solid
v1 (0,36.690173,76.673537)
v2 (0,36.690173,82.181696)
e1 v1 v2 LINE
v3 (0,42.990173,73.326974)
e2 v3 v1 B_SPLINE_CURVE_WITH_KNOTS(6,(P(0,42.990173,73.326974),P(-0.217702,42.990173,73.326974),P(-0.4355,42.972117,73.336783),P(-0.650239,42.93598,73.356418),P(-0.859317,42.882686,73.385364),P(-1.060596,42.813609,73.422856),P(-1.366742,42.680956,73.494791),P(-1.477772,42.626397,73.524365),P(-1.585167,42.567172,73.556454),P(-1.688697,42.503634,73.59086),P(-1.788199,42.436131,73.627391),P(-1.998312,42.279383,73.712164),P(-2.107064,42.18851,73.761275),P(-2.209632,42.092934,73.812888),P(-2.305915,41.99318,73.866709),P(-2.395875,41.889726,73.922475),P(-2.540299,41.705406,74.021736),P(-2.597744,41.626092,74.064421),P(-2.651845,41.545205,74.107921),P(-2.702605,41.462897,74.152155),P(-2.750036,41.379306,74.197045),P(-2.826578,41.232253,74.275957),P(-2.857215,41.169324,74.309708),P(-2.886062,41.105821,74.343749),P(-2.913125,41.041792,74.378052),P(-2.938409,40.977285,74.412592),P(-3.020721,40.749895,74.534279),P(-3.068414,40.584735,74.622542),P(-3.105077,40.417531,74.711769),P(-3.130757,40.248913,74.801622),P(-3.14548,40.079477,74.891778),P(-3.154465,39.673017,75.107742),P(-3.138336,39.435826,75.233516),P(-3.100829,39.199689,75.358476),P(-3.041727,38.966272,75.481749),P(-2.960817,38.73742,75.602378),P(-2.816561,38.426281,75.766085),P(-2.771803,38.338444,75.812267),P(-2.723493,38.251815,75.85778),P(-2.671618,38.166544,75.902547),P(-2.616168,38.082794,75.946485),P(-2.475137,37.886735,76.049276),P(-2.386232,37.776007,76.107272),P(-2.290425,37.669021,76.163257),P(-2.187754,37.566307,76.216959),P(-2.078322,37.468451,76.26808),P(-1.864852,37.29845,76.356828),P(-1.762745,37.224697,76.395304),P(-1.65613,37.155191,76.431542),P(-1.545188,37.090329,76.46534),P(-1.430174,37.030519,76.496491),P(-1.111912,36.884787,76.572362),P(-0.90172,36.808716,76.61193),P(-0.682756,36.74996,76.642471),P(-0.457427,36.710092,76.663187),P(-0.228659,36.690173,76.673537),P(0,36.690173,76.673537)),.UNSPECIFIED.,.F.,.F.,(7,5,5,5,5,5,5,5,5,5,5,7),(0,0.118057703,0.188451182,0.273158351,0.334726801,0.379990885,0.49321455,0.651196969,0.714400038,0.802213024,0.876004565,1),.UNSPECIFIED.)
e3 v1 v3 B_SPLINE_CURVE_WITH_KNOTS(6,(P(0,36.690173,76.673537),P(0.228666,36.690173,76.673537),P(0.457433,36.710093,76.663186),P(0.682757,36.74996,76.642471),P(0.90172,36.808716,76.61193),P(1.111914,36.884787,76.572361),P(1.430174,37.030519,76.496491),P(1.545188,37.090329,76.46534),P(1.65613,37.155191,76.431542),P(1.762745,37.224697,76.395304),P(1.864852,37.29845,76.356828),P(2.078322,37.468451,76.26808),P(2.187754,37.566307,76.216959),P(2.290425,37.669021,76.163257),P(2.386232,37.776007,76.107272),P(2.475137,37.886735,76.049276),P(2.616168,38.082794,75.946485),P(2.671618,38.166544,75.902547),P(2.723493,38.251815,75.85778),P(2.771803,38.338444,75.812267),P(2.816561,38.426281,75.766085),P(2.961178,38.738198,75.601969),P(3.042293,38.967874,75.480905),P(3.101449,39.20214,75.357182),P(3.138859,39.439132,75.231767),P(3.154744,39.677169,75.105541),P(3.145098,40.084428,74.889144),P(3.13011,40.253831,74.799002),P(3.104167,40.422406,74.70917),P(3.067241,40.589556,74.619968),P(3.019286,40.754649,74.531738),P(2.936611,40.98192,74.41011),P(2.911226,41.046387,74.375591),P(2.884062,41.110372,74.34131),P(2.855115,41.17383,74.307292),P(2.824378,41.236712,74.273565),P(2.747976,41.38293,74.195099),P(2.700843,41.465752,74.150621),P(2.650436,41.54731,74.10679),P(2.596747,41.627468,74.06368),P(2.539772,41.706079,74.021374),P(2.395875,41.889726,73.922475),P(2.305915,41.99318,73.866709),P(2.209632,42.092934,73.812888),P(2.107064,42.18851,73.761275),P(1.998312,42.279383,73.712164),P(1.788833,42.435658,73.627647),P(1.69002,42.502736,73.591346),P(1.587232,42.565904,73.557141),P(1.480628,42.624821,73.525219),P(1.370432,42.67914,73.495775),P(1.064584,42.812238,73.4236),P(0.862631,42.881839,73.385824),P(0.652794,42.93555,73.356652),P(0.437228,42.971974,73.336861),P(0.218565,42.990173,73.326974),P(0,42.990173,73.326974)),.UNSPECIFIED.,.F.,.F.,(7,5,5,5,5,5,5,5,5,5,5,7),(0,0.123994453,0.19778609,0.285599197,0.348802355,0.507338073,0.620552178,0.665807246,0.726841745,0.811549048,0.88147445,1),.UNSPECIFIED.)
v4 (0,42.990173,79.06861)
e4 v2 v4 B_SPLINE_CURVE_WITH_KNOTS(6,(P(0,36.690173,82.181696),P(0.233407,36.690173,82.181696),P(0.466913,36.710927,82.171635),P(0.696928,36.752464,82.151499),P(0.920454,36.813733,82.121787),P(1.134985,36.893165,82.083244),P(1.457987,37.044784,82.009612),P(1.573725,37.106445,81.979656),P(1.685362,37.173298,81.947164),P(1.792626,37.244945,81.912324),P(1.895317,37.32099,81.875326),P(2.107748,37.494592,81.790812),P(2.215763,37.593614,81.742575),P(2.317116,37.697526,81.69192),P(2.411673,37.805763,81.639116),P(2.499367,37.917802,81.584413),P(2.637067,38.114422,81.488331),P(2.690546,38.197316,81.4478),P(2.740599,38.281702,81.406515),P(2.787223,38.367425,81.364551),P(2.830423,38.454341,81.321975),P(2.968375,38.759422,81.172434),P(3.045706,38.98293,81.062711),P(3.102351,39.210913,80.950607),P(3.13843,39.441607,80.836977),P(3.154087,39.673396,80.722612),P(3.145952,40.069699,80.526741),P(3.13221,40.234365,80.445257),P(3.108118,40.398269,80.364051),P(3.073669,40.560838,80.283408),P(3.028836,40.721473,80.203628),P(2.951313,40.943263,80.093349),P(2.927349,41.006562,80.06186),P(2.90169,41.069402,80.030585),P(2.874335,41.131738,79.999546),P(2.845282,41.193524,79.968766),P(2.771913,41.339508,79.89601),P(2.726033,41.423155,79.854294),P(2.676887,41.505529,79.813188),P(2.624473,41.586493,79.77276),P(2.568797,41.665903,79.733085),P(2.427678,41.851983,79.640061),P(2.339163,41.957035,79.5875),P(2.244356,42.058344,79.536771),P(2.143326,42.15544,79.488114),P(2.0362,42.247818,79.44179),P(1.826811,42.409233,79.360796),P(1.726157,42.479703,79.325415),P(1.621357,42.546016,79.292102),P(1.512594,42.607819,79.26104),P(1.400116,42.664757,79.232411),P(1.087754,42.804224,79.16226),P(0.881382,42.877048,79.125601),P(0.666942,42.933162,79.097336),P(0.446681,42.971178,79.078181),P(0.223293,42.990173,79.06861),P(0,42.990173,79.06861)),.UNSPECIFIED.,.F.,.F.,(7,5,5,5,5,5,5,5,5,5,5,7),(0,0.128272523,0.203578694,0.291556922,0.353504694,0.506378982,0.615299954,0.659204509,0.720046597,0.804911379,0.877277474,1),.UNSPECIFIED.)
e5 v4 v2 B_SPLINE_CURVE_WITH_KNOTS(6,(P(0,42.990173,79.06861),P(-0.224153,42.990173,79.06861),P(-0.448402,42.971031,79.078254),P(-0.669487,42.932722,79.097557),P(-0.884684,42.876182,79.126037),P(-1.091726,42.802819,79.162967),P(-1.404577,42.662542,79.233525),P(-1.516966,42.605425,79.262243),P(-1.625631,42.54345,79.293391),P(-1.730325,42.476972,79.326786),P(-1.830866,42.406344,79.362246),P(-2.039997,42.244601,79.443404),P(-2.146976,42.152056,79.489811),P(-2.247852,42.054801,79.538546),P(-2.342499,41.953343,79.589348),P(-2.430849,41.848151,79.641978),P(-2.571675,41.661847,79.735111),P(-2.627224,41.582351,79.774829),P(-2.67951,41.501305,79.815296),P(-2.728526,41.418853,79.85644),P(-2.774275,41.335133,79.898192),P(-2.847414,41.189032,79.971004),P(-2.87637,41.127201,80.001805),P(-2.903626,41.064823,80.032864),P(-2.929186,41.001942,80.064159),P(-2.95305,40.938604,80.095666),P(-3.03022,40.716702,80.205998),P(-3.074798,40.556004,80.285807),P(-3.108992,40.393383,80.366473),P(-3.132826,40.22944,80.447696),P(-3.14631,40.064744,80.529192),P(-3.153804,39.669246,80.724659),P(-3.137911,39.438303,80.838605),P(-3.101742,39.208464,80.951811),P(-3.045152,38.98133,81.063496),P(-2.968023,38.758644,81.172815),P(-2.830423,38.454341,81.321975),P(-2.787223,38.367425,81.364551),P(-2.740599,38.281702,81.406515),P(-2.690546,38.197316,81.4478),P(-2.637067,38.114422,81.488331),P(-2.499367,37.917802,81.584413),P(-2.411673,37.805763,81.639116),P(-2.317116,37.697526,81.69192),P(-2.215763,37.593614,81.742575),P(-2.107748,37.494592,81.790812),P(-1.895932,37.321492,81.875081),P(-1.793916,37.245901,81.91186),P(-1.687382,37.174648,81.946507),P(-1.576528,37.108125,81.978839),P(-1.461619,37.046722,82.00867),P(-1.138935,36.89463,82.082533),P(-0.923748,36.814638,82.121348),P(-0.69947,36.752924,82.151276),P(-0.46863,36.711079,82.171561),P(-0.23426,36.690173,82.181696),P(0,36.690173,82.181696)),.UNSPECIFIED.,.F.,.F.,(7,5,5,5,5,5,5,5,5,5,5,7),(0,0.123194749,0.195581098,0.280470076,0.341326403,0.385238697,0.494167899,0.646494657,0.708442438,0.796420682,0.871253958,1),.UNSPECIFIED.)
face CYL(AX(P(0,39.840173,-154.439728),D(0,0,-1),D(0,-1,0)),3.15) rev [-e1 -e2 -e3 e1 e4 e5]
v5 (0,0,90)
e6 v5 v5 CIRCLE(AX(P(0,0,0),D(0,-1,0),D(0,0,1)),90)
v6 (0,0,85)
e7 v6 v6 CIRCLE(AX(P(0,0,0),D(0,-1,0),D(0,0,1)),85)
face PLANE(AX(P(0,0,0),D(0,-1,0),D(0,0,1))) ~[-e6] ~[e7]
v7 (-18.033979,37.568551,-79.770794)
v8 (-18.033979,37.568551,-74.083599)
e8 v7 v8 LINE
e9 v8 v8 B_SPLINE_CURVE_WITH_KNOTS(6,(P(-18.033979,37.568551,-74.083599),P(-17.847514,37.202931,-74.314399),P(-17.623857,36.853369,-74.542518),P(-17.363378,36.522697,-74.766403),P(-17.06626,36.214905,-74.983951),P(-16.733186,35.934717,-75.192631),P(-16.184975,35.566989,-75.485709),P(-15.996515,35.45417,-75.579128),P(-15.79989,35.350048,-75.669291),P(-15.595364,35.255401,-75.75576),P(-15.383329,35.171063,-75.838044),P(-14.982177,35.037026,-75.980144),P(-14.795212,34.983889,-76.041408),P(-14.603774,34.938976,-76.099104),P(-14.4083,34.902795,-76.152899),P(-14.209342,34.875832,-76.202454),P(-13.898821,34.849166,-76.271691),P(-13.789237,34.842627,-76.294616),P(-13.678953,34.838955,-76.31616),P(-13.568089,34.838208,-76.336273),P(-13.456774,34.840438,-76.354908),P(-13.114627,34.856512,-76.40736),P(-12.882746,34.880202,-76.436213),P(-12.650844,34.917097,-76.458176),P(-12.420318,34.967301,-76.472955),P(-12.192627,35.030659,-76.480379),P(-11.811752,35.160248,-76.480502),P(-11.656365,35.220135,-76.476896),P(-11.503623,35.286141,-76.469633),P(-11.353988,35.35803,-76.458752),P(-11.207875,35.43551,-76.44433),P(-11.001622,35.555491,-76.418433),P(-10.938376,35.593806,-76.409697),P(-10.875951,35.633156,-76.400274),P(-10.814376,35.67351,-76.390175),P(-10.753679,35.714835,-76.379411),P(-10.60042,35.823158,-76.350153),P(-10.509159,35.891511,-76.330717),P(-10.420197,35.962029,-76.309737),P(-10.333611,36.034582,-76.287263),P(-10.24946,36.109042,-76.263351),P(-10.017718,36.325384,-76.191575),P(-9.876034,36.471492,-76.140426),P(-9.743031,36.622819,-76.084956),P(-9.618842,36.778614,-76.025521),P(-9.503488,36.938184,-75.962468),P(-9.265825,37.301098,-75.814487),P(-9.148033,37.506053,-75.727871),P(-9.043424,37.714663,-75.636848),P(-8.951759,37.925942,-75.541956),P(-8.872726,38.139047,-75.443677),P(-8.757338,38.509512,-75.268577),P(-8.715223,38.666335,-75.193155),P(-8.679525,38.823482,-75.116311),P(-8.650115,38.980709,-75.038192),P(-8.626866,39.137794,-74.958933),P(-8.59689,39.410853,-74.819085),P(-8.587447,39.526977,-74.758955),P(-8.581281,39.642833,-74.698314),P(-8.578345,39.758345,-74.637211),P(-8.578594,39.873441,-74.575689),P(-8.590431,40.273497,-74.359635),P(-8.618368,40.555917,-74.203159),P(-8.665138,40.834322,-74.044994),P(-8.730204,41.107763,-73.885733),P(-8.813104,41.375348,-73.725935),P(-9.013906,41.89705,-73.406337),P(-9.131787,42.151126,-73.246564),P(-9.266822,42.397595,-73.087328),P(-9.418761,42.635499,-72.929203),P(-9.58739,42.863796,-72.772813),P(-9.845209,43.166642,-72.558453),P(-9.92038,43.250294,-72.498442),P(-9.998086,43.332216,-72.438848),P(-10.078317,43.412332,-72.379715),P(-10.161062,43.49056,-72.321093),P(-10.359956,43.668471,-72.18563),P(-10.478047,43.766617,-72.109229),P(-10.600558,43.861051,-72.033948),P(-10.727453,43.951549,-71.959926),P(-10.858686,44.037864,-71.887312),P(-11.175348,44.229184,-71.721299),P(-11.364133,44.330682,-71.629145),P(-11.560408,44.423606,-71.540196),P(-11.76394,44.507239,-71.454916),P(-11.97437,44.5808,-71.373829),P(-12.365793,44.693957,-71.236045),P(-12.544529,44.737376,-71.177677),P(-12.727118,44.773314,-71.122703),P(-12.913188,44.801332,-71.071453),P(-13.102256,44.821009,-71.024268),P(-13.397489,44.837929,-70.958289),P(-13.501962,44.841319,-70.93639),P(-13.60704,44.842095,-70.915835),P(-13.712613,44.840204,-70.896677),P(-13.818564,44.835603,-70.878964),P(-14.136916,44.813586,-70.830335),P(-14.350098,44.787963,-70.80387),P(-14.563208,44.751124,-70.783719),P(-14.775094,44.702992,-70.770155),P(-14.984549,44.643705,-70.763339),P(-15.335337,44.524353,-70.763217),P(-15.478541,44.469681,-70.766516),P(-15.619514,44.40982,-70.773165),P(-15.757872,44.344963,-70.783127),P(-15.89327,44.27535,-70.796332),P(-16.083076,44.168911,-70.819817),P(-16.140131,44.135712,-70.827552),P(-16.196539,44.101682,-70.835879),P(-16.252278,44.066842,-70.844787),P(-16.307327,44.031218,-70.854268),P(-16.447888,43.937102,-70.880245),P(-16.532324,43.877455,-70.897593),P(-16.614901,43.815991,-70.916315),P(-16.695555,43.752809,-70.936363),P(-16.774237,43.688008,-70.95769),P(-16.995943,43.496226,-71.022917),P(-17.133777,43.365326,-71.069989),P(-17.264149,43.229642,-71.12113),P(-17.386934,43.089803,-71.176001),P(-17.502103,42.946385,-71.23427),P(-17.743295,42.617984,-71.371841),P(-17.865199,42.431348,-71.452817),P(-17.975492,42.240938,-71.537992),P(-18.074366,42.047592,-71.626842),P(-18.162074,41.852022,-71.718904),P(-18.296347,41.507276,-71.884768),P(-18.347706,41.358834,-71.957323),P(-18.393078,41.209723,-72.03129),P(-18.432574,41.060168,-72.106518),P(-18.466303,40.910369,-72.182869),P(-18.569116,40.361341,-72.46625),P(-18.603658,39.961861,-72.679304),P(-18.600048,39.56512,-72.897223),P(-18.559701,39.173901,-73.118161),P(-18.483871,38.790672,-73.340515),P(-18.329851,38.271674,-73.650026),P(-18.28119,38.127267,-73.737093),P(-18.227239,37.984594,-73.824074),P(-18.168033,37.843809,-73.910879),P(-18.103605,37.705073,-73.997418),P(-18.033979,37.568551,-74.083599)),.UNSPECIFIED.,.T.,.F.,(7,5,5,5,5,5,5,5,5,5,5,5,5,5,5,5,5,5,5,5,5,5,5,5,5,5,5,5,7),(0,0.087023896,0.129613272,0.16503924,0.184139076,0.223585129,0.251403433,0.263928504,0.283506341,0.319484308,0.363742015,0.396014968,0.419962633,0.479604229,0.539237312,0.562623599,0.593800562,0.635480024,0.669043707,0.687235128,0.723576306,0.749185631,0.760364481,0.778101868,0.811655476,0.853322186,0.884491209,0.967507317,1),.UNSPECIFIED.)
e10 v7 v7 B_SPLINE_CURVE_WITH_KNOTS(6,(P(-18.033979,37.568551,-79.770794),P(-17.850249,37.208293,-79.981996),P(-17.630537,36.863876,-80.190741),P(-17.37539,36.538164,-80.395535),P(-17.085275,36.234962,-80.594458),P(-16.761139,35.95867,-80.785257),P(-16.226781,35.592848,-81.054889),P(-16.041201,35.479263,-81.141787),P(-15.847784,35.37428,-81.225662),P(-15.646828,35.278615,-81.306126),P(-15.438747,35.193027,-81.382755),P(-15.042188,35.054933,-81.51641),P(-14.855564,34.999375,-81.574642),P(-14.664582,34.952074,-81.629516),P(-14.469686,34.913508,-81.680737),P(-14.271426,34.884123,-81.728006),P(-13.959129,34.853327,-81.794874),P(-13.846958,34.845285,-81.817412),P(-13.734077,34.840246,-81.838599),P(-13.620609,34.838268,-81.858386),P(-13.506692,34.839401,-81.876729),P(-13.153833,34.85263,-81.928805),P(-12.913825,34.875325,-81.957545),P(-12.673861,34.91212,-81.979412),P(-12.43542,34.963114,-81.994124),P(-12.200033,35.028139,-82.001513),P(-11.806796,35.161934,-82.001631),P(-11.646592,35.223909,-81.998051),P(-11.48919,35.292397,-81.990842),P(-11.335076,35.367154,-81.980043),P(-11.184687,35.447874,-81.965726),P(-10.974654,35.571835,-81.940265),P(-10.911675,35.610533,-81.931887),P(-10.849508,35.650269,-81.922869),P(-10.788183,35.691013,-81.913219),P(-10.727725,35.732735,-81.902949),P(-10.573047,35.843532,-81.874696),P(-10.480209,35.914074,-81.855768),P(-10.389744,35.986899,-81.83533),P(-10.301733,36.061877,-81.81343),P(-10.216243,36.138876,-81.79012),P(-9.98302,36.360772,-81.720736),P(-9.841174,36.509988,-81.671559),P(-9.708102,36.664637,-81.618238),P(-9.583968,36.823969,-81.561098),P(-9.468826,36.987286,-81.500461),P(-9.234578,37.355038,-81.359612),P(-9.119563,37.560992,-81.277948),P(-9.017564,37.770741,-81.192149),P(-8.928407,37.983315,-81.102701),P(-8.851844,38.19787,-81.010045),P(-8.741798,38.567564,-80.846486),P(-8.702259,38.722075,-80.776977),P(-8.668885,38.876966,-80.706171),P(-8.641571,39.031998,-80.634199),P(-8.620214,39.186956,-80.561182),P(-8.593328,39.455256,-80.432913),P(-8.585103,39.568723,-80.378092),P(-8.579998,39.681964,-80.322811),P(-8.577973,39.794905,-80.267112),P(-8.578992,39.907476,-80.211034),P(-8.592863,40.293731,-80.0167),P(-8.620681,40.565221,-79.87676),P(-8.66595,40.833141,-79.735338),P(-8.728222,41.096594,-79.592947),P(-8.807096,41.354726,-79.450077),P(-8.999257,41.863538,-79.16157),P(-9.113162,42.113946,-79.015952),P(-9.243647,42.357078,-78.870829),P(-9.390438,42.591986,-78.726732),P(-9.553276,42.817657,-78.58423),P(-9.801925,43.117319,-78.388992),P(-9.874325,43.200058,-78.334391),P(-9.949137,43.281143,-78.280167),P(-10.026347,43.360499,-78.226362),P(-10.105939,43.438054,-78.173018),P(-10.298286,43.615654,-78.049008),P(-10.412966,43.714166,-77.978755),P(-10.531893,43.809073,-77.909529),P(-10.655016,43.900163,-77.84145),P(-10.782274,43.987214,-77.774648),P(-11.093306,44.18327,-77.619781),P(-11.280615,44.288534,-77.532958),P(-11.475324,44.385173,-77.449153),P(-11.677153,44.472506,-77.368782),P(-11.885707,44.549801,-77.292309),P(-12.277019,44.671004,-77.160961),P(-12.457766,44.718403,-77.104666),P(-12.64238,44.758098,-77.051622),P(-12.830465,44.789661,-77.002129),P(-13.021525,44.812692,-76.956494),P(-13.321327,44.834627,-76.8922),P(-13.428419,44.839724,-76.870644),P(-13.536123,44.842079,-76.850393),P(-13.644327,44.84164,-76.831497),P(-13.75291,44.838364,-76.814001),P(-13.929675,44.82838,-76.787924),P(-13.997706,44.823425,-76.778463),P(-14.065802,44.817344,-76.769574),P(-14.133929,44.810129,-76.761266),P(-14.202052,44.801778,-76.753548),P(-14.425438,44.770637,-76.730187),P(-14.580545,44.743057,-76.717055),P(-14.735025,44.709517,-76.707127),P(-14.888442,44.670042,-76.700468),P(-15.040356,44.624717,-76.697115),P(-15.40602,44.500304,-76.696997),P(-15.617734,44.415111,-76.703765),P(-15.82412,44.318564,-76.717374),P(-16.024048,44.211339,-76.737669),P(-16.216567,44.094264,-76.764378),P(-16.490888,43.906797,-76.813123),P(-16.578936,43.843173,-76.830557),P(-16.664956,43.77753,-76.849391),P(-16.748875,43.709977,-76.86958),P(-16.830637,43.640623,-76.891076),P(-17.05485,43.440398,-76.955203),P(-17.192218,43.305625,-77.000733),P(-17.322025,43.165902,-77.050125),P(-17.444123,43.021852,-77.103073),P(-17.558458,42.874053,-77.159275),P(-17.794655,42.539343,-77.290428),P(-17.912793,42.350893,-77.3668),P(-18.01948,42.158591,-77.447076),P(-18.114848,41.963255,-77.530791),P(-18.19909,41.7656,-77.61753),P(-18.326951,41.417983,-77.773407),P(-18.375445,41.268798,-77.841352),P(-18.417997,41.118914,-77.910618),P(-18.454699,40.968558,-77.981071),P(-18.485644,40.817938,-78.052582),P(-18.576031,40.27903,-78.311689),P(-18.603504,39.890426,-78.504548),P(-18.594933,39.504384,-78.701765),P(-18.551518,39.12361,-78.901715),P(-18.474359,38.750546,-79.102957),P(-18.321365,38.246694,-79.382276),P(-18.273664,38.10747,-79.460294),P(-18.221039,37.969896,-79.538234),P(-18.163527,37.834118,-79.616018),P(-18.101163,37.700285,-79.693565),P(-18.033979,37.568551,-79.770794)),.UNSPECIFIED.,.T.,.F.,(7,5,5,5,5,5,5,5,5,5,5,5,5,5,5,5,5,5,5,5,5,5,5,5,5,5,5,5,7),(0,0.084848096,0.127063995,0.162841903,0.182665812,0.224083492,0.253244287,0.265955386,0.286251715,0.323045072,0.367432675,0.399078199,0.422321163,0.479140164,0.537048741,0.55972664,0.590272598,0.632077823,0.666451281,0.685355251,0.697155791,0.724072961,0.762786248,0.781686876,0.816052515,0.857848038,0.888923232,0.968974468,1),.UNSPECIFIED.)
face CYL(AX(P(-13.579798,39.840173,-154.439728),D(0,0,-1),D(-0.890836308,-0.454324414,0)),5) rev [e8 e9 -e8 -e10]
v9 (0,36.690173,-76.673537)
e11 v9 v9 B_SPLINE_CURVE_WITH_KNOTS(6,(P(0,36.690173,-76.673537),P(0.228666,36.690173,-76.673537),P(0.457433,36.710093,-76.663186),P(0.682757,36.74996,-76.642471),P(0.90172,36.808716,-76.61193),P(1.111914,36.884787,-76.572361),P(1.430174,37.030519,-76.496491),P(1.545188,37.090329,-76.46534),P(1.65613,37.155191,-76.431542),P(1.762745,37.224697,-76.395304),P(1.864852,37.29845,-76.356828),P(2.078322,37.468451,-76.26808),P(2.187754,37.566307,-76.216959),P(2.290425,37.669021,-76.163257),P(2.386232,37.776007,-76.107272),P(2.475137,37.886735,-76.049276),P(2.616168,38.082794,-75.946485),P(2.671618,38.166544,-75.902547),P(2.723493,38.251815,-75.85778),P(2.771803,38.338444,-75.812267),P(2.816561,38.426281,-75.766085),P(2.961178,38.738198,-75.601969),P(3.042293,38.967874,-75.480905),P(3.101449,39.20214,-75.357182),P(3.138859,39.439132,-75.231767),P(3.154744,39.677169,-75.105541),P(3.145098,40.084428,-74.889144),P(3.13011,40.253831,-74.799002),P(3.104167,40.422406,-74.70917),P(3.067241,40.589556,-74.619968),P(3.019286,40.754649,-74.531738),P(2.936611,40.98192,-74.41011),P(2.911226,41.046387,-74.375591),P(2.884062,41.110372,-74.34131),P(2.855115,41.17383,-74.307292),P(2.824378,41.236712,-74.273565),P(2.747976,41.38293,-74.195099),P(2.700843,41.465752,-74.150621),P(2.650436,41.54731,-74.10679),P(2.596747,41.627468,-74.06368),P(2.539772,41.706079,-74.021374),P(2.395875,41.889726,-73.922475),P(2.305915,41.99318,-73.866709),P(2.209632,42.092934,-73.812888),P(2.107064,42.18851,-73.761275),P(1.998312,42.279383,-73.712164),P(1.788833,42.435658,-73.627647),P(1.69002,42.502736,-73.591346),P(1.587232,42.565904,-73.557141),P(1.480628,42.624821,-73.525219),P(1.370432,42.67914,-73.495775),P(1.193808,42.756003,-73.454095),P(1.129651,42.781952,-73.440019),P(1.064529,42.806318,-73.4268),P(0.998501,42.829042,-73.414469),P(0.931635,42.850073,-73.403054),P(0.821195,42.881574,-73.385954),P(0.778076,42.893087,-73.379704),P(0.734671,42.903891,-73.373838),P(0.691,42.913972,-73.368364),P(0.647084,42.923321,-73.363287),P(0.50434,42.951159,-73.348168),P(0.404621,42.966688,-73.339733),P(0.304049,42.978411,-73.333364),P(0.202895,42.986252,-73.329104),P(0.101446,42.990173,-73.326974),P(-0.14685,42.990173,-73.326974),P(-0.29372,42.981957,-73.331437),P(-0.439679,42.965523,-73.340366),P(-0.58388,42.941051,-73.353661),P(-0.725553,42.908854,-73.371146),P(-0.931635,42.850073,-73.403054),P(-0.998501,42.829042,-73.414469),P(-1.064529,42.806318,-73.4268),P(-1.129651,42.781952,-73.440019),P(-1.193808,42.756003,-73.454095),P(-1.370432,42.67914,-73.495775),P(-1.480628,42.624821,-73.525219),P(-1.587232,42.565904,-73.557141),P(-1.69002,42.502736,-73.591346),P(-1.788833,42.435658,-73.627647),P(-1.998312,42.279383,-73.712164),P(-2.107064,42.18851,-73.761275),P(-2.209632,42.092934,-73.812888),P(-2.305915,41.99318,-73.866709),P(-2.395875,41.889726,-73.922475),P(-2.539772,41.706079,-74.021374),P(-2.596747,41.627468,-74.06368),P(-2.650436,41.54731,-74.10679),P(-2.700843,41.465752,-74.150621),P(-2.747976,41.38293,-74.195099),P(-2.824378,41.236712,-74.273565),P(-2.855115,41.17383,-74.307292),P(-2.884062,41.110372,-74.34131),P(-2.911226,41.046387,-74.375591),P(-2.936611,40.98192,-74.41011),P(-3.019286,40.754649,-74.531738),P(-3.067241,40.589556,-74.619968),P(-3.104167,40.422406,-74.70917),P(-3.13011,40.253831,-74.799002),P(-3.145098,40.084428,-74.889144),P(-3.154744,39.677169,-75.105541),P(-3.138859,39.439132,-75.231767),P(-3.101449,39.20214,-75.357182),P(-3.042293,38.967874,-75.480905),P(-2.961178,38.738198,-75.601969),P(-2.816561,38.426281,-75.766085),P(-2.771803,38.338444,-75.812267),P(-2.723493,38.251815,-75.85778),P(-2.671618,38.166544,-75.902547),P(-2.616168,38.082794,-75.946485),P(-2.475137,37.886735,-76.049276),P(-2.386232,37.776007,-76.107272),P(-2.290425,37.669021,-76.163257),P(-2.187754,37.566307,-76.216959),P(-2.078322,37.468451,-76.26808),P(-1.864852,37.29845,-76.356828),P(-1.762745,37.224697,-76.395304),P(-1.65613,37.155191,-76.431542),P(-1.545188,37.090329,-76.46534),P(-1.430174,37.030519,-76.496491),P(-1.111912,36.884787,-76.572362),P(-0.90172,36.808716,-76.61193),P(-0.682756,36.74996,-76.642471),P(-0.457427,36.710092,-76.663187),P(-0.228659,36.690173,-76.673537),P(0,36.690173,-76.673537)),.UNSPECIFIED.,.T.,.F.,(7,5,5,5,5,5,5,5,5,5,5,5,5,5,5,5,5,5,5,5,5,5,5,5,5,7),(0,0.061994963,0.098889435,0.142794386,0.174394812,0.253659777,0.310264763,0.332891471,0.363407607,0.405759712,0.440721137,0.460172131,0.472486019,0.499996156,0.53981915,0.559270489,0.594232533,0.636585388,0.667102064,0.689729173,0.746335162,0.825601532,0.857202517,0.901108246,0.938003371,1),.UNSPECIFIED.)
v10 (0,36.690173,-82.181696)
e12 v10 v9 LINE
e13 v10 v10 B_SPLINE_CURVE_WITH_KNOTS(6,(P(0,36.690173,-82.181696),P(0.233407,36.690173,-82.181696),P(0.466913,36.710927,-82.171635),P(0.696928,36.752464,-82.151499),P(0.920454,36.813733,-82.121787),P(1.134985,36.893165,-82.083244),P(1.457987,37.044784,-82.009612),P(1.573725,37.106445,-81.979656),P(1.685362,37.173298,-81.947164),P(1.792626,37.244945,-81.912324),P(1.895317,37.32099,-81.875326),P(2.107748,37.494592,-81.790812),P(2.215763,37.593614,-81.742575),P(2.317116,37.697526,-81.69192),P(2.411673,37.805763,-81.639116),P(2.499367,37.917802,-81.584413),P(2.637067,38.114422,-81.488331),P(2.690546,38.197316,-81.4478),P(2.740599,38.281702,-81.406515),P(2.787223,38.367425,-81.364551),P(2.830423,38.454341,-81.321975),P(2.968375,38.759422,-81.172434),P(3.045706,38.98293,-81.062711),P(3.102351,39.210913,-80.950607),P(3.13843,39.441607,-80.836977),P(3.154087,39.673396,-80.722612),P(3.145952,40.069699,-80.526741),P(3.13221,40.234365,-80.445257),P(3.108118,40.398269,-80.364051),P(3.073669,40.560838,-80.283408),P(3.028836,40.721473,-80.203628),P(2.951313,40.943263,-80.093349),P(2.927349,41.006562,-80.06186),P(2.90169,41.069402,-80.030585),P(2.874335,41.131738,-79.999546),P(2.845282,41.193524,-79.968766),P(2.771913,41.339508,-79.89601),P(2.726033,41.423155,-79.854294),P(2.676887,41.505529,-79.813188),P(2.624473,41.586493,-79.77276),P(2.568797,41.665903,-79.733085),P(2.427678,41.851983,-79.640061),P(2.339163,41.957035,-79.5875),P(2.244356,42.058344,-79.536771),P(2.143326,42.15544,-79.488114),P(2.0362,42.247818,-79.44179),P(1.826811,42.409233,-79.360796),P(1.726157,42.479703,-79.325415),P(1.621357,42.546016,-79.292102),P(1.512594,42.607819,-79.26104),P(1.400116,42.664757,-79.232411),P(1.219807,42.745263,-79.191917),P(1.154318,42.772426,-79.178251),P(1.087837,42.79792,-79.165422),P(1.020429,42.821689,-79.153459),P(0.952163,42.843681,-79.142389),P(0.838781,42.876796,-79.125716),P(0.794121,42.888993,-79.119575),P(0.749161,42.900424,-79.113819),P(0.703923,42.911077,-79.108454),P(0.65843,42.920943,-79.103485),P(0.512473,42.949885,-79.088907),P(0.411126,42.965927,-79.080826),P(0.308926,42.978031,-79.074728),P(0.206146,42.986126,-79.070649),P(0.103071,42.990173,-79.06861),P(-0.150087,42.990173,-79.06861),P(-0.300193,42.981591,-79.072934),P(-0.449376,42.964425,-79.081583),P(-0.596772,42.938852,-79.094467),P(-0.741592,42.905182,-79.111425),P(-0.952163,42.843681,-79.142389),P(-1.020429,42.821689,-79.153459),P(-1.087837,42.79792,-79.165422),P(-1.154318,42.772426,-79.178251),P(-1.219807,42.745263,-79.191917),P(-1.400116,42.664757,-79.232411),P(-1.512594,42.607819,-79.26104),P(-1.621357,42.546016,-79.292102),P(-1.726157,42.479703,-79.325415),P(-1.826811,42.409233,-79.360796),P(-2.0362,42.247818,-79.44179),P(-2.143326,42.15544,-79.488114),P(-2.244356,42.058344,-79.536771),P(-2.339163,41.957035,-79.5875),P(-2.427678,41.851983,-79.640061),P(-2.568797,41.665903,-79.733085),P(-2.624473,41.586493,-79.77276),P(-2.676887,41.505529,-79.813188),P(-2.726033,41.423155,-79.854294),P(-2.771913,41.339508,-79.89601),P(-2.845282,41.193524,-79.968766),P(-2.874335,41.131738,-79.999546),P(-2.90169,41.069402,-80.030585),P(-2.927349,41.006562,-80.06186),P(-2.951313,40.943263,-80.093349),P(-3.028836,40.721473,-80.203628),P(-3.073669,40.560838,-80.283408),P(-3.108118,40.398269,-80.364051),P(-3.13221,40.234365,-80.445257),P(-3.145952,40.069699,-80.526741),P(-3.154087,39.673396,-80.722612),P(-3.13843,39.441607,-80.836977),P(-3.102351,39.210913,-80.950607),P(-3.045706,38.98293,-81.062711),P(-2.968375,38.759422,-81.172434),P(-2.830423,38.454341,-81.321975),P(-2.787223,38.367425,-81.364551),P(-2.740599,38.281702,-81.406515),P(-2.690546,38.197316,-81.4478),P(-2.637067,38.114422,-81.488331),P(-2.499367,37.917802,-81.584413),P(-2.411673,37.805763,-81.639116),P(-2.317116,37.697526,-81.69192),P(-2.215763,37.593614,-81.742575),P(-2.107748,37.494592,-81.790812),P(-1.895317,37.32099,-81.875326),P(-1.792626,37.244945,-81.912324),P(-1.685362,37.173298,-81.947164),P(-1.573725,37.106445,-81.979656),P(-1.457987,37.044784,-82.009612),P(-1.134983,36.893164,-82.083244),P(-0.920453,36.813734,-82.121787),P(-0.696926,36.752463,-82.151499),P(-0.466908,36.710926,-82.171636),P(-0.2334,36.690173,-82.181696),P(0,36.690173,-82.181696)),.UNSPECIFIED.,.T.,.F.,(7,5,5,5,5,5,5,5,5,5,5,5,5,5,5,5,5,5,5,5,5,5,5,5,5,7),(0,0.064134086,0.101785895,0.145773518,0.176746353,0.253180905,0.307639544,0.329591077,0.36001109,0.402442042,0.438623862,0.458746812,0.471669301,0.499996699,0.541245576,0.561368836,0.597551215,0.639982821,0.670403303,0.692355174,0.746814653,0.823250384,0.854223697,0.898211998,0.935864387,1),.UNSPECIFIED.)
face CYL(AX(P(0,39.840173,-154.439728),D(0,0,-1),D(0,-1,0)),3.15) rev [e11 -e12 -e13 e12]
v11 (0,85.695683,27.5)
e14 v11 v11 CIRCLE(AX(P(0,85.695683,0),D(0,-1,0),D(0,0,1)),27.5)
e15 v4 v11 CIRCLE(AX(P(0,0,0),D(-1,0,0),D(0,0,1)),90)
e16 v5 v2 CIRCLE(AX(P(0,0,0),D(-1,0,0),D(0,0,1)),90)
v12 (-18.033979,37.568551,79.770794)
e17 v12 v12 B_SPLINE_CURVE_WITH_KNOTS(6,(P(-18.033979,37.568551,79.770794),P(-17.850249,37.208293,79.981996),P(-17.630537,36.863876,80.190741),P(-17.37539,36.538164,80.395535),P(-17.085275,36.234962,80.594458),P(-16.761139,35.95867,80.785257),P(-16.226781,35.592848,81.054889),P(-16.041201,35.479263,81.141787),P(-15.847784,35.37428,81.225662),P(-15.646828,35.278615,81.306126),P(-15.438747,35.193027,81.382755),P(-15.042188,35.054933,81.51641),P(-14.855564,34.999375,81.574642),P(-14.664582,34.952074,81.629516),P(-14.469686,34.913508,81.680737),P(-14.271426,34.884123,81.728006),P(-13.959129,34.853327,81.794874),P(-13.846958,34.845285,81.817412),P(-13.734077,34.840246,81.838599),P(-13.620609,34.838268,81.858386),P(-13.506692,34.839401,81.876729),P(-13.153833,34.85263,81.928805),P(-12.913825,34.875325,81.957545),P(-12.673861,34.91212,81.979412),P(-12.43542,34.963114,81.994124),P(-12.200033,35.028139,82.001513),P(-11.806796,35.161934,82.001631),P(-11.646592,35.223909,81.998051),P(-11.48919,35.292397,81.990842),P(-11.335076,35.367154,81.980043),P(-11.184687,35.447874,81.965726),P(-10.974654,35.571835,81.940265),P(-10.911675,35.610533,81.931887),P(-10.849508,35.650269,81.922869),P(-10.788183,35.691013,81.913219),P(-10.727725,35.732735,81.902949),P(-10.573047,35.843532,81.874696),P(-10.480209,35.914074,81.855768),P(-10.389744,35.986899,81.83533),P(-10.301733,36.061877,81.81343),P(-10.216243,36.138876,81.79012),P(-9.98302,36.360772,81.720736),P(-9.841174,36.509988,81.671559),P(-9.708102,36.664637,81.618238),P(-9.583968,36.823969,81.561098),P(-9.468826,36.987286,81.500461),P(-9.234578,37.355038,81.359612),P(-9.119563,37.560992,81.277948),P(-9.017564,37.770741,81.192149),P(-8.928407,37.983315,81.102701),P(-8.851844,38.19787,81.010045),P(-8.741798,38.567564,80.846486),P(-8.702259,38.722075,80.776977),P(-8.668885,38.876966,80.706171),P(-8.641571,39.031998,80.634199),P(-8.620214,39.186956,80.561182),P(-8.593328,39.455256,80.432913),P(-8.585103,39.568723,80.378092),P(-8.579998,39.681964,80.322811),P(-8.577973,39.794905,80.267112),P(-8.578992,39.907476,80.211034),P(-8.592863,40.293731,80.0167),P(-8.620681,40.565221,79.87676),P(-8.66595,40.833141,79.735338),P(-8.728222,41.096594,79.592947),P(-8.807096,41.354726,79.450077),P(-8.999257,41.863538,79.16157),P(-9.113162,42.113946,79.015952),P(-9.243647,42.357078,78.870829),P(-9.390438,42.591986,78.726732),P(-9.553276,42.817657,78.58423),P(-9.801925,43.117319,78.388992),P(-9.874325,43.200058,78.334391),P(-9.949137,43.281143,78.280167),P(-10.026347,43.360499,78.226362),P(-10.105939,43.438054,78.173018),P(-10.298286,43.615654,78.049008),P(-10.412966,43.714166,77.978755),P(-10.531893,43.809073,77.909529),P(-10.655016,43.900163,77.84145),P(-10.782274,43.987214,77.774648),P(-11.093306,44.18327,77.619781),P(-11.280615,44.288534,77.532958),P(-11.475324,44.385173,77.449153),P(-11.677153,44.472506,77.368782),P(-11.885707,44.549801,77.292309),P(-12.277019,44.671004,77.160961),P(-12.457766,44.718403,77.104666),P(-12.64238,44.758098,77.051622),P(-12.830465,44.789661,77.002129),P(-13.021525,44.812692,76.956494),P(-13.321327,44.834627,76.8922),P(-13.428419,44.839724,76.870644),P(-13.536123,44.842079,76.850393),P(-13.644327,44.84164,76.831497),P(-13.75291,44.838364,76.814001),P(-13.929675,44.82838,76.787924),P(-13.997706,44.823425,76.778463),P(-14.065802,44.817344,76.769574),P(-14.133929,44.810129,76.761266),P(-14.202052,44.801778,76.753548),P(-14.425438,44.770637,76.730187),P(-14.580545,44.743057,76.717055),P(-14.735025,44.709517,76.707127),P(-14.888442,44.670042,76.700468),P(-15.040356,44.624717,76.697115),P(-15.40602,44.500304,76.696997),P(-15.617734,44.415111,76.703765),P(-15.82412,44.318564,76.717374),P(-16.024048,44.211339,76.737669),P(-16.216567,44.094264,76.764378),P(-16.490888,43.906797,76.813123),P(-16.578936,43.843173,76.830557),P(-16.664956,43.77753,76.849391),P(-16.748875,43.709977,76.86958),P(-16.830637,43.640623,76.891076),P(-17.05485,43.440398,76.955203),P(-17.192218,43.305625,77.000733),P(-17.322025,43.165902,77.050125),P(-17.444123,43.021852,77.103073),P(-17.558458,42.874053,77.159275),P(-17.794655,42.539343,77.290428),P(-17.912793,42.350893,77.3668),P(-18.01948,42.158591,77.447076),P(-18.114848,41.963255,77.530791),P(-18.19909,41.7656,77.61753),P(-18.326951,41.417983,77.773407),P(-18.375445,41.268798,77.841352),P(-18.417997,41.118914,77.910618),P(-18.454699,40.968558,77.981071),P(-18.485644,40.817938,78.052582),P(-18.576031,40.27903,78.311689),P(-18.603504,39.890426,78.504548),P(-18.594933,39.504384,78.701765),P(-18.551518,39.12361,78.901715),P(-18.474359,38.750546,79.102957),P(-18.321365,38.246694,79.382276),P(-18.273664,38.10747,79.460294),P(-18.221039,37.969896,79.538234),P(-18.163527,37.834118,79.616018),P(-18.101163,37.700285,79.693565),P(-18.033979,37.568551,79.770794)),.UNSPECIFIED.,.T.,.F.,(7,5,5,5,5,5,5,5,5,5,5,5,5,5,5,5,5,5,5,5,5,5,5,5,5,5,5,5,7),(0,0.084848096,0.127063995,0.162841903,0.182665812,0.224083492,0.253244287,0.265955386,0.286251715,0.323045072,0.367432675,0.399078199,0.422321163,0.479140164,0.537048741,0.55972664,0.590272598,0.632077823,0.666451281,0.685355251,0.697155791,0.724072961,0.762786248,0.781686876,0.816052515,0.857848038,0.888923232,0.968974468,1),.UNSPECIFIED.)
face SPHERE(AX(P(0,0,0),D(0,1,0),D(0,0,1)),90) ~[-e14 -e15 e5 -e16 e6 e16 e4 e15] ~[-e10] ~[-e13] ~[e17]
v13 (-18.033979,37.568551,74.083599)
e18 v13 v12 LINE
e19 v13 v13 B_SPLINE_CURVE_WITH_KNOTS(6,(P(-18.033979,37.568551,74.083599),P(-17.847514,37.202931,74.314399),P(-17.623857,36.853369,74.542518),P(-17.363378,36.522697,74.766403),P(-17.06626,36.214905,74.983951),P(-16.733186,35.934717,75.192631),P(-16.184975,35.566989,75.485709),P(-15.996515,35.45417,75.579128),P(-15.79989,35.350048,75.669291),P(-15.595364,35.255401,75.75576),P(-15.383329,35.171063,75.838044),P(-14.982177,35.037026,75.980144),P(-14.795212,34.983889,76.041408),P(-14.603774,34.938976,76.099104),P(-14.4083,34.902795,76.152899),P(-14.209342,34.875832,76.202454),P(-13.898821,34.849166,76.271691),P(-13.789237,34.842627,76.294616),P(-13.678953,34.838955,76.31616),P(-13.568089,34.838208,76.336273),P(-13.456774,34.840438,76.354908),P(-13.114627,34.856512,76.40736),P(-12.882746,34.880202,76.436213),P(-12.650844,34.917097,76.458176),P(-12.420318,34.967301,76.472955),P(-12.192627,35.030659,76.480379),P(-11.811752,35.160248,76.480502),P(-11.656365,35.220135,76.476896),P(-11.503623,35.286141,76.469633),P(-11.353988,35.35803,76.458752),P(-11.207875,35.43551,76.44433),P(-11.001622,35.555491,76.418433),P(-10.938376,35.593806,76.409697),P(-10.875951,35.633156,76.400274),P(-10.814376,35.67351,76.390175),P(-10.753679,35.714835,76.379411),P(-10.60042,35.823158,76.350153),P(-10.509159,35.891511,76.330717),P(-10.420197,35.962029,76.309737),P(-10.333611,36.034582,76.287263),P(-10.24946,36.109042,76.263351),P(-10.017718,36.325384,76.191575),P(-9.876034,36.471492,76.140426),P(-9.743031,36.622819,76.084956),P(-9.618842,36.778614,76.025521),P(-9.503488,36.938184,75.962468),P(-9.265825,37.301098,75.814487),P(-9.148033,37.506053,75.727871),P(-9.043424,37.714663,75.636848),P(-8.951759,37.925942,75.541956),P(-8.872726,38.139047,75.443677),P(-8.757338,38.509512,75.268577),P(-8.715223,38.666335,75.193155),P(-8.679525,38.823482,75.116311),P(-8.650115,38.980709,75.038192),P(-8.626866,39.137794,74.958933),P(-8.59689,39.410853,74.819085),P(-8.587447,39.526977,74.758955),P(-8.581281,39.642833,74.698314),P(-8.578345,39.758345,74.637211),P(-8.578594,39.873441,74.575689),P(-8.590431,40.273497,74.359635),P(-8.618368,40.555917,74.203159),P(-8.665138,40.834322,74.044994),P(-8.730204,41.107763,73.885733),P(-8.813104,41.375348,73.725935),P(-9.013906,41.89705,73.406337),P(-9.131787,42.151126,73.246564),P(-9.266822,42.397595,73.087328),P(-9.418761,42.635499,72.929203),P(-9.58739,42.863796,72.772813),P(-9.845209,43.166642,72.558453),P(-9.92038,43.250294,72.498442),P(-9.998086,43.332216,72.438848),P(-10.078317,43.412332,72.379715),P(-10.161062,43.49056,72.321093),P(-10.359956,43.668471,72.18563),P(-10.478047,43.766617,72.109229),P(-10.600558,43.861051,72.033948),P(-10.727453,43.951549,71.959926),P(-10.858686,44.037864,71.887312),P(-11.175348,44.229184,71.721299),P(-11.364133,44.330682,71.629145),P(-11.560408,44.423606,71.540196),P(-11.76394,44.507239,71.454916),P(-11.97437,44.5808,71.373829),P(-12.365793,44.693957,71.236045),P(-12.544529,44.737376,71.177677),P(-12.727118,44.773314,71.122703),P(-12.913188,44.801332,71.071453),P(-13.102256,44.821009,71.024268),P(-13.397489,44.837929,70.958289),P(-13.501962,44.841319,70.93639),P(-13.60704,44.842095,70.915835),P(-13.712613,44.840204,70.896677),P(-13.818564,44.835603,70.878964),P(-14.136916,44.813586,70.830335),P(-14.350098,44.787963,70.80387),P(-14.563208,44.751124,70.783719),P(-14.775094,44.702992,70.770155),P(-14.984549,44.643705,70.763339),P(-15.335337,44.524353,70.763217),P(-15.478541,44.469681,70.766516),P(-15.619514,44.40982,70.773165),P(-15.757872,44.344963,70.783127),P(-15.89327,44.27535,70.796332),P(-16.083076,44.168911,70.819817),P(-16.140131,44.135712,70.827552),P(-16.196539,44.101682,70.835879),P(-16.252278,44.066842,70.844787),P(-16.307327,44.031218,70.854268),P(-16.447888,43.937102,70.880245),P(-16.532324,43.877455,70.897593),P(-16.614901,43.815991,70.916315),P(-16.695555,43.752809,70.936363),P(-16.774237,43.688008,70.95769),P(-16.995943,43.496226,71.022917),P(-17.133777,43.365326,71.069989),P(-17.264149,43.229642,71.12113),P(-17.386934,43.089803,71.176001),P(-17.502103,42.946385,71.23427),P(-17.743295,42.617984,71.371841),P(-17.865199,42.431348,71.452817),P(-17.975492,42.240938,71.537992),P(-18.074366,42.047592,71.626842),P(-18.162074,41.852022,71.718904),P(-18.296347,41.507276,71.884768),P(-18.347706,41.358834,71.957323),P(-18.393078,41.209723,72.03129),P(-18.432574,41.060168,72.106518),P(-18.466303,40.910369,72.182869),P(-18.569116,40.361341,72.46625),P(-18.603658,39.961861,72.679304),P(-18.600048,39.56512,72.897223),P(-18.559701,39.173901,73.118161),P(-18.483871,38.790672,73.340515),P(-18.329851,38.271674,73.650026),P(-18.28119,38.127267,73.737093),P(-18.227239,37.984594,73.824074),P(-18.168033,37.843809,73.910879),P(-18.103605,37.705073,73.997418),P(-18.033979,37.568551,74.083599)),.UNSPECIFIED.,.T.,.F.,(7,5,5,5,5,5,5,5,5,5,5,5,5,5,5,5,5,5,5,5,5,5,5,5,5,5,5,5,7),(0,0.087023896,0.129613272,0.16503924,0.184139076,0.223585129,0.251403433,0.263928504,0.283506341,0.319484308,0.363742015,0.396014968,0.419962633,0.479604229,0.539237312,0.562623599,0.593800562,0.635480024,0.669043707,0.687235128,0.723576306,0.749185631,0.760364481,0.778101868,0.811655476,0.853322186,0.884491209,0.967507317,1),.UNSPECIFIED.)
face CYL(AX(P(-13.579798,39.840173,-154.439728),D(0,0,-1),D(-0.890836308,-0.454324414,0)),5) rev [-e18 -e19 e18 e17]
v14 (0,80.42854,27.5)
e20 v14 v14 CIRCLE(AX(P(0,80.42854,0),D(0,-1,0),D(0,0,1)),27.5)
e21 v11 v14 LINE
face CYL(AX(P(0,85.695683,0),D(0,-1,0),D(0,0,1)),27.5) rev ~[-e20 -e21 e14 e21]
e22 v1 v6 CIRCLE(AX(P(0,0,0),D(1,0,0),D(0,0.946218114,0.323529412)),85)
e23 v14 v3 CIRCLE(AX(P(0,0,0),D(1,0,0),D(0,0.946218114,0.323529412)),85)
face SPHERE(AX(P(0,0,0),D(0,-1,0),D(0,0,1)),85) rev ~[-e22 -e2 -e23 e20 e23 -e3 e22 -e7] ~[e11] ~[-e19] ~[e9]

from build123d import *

# Parameters (mm, degrees)
CUT_EXTRUDE5_DEPTH      = 154.439727581
CUT_EXTRUDE5_DEPTH_BACK = 154.439727581
SKETCH7_R               = 3.15
SKETCH7_R_2             = 5


with BuildPart() as part:
    # Sketch1 → Revolve1 (revolve)
    with BuildSketch(Plane.XY, mode=Mode.PRIVATE) as revolve1_sk:
        with BuildLine():
            Line((85, 0), (90, 0))
            ThreePointArc((90, 0), (72.715197861, 53.033008589), (27.5, 85.695682505))
            Line((27.5, 85.695682505), (27.5, 80.428539711))
            ThreePointArc((27.5, 80.428539711), (69.14658343, 49.434299833), (85, 0))
        make_face()
    revolve(revolve1_sk.sketch.rotate(Axis((0, 188.683155316, 0), (0, -1, 0)), 90), axis=Axis((0, 188.683155316, 0), (0, -1, 0)))

    # Sketch7 → Cut-Extrude5 (cut, two sides: drawn at the far end of the back side and taken through both)
    with BuildSketch(Plane.XY.offset(-CUT_EXTRUDE5_DEPTH_BACK)):
        with Locations(Location((0, 39.840172705, 0), (0, 0, 269.999999991))):
            Circle(SKETCH7_R)
        with Locations(Location((-13.579797877, 39.840172705, 0), (0, 0, 207.021474241))):
            Circle(SKETCH7_R_2)
    extrude(amount=CUT_EXTRUDE5_DEPTH + CUT_EXTRUDE5_DEPTH_BACK, mode=Mode.SUBTRACT)


solid = part.part
